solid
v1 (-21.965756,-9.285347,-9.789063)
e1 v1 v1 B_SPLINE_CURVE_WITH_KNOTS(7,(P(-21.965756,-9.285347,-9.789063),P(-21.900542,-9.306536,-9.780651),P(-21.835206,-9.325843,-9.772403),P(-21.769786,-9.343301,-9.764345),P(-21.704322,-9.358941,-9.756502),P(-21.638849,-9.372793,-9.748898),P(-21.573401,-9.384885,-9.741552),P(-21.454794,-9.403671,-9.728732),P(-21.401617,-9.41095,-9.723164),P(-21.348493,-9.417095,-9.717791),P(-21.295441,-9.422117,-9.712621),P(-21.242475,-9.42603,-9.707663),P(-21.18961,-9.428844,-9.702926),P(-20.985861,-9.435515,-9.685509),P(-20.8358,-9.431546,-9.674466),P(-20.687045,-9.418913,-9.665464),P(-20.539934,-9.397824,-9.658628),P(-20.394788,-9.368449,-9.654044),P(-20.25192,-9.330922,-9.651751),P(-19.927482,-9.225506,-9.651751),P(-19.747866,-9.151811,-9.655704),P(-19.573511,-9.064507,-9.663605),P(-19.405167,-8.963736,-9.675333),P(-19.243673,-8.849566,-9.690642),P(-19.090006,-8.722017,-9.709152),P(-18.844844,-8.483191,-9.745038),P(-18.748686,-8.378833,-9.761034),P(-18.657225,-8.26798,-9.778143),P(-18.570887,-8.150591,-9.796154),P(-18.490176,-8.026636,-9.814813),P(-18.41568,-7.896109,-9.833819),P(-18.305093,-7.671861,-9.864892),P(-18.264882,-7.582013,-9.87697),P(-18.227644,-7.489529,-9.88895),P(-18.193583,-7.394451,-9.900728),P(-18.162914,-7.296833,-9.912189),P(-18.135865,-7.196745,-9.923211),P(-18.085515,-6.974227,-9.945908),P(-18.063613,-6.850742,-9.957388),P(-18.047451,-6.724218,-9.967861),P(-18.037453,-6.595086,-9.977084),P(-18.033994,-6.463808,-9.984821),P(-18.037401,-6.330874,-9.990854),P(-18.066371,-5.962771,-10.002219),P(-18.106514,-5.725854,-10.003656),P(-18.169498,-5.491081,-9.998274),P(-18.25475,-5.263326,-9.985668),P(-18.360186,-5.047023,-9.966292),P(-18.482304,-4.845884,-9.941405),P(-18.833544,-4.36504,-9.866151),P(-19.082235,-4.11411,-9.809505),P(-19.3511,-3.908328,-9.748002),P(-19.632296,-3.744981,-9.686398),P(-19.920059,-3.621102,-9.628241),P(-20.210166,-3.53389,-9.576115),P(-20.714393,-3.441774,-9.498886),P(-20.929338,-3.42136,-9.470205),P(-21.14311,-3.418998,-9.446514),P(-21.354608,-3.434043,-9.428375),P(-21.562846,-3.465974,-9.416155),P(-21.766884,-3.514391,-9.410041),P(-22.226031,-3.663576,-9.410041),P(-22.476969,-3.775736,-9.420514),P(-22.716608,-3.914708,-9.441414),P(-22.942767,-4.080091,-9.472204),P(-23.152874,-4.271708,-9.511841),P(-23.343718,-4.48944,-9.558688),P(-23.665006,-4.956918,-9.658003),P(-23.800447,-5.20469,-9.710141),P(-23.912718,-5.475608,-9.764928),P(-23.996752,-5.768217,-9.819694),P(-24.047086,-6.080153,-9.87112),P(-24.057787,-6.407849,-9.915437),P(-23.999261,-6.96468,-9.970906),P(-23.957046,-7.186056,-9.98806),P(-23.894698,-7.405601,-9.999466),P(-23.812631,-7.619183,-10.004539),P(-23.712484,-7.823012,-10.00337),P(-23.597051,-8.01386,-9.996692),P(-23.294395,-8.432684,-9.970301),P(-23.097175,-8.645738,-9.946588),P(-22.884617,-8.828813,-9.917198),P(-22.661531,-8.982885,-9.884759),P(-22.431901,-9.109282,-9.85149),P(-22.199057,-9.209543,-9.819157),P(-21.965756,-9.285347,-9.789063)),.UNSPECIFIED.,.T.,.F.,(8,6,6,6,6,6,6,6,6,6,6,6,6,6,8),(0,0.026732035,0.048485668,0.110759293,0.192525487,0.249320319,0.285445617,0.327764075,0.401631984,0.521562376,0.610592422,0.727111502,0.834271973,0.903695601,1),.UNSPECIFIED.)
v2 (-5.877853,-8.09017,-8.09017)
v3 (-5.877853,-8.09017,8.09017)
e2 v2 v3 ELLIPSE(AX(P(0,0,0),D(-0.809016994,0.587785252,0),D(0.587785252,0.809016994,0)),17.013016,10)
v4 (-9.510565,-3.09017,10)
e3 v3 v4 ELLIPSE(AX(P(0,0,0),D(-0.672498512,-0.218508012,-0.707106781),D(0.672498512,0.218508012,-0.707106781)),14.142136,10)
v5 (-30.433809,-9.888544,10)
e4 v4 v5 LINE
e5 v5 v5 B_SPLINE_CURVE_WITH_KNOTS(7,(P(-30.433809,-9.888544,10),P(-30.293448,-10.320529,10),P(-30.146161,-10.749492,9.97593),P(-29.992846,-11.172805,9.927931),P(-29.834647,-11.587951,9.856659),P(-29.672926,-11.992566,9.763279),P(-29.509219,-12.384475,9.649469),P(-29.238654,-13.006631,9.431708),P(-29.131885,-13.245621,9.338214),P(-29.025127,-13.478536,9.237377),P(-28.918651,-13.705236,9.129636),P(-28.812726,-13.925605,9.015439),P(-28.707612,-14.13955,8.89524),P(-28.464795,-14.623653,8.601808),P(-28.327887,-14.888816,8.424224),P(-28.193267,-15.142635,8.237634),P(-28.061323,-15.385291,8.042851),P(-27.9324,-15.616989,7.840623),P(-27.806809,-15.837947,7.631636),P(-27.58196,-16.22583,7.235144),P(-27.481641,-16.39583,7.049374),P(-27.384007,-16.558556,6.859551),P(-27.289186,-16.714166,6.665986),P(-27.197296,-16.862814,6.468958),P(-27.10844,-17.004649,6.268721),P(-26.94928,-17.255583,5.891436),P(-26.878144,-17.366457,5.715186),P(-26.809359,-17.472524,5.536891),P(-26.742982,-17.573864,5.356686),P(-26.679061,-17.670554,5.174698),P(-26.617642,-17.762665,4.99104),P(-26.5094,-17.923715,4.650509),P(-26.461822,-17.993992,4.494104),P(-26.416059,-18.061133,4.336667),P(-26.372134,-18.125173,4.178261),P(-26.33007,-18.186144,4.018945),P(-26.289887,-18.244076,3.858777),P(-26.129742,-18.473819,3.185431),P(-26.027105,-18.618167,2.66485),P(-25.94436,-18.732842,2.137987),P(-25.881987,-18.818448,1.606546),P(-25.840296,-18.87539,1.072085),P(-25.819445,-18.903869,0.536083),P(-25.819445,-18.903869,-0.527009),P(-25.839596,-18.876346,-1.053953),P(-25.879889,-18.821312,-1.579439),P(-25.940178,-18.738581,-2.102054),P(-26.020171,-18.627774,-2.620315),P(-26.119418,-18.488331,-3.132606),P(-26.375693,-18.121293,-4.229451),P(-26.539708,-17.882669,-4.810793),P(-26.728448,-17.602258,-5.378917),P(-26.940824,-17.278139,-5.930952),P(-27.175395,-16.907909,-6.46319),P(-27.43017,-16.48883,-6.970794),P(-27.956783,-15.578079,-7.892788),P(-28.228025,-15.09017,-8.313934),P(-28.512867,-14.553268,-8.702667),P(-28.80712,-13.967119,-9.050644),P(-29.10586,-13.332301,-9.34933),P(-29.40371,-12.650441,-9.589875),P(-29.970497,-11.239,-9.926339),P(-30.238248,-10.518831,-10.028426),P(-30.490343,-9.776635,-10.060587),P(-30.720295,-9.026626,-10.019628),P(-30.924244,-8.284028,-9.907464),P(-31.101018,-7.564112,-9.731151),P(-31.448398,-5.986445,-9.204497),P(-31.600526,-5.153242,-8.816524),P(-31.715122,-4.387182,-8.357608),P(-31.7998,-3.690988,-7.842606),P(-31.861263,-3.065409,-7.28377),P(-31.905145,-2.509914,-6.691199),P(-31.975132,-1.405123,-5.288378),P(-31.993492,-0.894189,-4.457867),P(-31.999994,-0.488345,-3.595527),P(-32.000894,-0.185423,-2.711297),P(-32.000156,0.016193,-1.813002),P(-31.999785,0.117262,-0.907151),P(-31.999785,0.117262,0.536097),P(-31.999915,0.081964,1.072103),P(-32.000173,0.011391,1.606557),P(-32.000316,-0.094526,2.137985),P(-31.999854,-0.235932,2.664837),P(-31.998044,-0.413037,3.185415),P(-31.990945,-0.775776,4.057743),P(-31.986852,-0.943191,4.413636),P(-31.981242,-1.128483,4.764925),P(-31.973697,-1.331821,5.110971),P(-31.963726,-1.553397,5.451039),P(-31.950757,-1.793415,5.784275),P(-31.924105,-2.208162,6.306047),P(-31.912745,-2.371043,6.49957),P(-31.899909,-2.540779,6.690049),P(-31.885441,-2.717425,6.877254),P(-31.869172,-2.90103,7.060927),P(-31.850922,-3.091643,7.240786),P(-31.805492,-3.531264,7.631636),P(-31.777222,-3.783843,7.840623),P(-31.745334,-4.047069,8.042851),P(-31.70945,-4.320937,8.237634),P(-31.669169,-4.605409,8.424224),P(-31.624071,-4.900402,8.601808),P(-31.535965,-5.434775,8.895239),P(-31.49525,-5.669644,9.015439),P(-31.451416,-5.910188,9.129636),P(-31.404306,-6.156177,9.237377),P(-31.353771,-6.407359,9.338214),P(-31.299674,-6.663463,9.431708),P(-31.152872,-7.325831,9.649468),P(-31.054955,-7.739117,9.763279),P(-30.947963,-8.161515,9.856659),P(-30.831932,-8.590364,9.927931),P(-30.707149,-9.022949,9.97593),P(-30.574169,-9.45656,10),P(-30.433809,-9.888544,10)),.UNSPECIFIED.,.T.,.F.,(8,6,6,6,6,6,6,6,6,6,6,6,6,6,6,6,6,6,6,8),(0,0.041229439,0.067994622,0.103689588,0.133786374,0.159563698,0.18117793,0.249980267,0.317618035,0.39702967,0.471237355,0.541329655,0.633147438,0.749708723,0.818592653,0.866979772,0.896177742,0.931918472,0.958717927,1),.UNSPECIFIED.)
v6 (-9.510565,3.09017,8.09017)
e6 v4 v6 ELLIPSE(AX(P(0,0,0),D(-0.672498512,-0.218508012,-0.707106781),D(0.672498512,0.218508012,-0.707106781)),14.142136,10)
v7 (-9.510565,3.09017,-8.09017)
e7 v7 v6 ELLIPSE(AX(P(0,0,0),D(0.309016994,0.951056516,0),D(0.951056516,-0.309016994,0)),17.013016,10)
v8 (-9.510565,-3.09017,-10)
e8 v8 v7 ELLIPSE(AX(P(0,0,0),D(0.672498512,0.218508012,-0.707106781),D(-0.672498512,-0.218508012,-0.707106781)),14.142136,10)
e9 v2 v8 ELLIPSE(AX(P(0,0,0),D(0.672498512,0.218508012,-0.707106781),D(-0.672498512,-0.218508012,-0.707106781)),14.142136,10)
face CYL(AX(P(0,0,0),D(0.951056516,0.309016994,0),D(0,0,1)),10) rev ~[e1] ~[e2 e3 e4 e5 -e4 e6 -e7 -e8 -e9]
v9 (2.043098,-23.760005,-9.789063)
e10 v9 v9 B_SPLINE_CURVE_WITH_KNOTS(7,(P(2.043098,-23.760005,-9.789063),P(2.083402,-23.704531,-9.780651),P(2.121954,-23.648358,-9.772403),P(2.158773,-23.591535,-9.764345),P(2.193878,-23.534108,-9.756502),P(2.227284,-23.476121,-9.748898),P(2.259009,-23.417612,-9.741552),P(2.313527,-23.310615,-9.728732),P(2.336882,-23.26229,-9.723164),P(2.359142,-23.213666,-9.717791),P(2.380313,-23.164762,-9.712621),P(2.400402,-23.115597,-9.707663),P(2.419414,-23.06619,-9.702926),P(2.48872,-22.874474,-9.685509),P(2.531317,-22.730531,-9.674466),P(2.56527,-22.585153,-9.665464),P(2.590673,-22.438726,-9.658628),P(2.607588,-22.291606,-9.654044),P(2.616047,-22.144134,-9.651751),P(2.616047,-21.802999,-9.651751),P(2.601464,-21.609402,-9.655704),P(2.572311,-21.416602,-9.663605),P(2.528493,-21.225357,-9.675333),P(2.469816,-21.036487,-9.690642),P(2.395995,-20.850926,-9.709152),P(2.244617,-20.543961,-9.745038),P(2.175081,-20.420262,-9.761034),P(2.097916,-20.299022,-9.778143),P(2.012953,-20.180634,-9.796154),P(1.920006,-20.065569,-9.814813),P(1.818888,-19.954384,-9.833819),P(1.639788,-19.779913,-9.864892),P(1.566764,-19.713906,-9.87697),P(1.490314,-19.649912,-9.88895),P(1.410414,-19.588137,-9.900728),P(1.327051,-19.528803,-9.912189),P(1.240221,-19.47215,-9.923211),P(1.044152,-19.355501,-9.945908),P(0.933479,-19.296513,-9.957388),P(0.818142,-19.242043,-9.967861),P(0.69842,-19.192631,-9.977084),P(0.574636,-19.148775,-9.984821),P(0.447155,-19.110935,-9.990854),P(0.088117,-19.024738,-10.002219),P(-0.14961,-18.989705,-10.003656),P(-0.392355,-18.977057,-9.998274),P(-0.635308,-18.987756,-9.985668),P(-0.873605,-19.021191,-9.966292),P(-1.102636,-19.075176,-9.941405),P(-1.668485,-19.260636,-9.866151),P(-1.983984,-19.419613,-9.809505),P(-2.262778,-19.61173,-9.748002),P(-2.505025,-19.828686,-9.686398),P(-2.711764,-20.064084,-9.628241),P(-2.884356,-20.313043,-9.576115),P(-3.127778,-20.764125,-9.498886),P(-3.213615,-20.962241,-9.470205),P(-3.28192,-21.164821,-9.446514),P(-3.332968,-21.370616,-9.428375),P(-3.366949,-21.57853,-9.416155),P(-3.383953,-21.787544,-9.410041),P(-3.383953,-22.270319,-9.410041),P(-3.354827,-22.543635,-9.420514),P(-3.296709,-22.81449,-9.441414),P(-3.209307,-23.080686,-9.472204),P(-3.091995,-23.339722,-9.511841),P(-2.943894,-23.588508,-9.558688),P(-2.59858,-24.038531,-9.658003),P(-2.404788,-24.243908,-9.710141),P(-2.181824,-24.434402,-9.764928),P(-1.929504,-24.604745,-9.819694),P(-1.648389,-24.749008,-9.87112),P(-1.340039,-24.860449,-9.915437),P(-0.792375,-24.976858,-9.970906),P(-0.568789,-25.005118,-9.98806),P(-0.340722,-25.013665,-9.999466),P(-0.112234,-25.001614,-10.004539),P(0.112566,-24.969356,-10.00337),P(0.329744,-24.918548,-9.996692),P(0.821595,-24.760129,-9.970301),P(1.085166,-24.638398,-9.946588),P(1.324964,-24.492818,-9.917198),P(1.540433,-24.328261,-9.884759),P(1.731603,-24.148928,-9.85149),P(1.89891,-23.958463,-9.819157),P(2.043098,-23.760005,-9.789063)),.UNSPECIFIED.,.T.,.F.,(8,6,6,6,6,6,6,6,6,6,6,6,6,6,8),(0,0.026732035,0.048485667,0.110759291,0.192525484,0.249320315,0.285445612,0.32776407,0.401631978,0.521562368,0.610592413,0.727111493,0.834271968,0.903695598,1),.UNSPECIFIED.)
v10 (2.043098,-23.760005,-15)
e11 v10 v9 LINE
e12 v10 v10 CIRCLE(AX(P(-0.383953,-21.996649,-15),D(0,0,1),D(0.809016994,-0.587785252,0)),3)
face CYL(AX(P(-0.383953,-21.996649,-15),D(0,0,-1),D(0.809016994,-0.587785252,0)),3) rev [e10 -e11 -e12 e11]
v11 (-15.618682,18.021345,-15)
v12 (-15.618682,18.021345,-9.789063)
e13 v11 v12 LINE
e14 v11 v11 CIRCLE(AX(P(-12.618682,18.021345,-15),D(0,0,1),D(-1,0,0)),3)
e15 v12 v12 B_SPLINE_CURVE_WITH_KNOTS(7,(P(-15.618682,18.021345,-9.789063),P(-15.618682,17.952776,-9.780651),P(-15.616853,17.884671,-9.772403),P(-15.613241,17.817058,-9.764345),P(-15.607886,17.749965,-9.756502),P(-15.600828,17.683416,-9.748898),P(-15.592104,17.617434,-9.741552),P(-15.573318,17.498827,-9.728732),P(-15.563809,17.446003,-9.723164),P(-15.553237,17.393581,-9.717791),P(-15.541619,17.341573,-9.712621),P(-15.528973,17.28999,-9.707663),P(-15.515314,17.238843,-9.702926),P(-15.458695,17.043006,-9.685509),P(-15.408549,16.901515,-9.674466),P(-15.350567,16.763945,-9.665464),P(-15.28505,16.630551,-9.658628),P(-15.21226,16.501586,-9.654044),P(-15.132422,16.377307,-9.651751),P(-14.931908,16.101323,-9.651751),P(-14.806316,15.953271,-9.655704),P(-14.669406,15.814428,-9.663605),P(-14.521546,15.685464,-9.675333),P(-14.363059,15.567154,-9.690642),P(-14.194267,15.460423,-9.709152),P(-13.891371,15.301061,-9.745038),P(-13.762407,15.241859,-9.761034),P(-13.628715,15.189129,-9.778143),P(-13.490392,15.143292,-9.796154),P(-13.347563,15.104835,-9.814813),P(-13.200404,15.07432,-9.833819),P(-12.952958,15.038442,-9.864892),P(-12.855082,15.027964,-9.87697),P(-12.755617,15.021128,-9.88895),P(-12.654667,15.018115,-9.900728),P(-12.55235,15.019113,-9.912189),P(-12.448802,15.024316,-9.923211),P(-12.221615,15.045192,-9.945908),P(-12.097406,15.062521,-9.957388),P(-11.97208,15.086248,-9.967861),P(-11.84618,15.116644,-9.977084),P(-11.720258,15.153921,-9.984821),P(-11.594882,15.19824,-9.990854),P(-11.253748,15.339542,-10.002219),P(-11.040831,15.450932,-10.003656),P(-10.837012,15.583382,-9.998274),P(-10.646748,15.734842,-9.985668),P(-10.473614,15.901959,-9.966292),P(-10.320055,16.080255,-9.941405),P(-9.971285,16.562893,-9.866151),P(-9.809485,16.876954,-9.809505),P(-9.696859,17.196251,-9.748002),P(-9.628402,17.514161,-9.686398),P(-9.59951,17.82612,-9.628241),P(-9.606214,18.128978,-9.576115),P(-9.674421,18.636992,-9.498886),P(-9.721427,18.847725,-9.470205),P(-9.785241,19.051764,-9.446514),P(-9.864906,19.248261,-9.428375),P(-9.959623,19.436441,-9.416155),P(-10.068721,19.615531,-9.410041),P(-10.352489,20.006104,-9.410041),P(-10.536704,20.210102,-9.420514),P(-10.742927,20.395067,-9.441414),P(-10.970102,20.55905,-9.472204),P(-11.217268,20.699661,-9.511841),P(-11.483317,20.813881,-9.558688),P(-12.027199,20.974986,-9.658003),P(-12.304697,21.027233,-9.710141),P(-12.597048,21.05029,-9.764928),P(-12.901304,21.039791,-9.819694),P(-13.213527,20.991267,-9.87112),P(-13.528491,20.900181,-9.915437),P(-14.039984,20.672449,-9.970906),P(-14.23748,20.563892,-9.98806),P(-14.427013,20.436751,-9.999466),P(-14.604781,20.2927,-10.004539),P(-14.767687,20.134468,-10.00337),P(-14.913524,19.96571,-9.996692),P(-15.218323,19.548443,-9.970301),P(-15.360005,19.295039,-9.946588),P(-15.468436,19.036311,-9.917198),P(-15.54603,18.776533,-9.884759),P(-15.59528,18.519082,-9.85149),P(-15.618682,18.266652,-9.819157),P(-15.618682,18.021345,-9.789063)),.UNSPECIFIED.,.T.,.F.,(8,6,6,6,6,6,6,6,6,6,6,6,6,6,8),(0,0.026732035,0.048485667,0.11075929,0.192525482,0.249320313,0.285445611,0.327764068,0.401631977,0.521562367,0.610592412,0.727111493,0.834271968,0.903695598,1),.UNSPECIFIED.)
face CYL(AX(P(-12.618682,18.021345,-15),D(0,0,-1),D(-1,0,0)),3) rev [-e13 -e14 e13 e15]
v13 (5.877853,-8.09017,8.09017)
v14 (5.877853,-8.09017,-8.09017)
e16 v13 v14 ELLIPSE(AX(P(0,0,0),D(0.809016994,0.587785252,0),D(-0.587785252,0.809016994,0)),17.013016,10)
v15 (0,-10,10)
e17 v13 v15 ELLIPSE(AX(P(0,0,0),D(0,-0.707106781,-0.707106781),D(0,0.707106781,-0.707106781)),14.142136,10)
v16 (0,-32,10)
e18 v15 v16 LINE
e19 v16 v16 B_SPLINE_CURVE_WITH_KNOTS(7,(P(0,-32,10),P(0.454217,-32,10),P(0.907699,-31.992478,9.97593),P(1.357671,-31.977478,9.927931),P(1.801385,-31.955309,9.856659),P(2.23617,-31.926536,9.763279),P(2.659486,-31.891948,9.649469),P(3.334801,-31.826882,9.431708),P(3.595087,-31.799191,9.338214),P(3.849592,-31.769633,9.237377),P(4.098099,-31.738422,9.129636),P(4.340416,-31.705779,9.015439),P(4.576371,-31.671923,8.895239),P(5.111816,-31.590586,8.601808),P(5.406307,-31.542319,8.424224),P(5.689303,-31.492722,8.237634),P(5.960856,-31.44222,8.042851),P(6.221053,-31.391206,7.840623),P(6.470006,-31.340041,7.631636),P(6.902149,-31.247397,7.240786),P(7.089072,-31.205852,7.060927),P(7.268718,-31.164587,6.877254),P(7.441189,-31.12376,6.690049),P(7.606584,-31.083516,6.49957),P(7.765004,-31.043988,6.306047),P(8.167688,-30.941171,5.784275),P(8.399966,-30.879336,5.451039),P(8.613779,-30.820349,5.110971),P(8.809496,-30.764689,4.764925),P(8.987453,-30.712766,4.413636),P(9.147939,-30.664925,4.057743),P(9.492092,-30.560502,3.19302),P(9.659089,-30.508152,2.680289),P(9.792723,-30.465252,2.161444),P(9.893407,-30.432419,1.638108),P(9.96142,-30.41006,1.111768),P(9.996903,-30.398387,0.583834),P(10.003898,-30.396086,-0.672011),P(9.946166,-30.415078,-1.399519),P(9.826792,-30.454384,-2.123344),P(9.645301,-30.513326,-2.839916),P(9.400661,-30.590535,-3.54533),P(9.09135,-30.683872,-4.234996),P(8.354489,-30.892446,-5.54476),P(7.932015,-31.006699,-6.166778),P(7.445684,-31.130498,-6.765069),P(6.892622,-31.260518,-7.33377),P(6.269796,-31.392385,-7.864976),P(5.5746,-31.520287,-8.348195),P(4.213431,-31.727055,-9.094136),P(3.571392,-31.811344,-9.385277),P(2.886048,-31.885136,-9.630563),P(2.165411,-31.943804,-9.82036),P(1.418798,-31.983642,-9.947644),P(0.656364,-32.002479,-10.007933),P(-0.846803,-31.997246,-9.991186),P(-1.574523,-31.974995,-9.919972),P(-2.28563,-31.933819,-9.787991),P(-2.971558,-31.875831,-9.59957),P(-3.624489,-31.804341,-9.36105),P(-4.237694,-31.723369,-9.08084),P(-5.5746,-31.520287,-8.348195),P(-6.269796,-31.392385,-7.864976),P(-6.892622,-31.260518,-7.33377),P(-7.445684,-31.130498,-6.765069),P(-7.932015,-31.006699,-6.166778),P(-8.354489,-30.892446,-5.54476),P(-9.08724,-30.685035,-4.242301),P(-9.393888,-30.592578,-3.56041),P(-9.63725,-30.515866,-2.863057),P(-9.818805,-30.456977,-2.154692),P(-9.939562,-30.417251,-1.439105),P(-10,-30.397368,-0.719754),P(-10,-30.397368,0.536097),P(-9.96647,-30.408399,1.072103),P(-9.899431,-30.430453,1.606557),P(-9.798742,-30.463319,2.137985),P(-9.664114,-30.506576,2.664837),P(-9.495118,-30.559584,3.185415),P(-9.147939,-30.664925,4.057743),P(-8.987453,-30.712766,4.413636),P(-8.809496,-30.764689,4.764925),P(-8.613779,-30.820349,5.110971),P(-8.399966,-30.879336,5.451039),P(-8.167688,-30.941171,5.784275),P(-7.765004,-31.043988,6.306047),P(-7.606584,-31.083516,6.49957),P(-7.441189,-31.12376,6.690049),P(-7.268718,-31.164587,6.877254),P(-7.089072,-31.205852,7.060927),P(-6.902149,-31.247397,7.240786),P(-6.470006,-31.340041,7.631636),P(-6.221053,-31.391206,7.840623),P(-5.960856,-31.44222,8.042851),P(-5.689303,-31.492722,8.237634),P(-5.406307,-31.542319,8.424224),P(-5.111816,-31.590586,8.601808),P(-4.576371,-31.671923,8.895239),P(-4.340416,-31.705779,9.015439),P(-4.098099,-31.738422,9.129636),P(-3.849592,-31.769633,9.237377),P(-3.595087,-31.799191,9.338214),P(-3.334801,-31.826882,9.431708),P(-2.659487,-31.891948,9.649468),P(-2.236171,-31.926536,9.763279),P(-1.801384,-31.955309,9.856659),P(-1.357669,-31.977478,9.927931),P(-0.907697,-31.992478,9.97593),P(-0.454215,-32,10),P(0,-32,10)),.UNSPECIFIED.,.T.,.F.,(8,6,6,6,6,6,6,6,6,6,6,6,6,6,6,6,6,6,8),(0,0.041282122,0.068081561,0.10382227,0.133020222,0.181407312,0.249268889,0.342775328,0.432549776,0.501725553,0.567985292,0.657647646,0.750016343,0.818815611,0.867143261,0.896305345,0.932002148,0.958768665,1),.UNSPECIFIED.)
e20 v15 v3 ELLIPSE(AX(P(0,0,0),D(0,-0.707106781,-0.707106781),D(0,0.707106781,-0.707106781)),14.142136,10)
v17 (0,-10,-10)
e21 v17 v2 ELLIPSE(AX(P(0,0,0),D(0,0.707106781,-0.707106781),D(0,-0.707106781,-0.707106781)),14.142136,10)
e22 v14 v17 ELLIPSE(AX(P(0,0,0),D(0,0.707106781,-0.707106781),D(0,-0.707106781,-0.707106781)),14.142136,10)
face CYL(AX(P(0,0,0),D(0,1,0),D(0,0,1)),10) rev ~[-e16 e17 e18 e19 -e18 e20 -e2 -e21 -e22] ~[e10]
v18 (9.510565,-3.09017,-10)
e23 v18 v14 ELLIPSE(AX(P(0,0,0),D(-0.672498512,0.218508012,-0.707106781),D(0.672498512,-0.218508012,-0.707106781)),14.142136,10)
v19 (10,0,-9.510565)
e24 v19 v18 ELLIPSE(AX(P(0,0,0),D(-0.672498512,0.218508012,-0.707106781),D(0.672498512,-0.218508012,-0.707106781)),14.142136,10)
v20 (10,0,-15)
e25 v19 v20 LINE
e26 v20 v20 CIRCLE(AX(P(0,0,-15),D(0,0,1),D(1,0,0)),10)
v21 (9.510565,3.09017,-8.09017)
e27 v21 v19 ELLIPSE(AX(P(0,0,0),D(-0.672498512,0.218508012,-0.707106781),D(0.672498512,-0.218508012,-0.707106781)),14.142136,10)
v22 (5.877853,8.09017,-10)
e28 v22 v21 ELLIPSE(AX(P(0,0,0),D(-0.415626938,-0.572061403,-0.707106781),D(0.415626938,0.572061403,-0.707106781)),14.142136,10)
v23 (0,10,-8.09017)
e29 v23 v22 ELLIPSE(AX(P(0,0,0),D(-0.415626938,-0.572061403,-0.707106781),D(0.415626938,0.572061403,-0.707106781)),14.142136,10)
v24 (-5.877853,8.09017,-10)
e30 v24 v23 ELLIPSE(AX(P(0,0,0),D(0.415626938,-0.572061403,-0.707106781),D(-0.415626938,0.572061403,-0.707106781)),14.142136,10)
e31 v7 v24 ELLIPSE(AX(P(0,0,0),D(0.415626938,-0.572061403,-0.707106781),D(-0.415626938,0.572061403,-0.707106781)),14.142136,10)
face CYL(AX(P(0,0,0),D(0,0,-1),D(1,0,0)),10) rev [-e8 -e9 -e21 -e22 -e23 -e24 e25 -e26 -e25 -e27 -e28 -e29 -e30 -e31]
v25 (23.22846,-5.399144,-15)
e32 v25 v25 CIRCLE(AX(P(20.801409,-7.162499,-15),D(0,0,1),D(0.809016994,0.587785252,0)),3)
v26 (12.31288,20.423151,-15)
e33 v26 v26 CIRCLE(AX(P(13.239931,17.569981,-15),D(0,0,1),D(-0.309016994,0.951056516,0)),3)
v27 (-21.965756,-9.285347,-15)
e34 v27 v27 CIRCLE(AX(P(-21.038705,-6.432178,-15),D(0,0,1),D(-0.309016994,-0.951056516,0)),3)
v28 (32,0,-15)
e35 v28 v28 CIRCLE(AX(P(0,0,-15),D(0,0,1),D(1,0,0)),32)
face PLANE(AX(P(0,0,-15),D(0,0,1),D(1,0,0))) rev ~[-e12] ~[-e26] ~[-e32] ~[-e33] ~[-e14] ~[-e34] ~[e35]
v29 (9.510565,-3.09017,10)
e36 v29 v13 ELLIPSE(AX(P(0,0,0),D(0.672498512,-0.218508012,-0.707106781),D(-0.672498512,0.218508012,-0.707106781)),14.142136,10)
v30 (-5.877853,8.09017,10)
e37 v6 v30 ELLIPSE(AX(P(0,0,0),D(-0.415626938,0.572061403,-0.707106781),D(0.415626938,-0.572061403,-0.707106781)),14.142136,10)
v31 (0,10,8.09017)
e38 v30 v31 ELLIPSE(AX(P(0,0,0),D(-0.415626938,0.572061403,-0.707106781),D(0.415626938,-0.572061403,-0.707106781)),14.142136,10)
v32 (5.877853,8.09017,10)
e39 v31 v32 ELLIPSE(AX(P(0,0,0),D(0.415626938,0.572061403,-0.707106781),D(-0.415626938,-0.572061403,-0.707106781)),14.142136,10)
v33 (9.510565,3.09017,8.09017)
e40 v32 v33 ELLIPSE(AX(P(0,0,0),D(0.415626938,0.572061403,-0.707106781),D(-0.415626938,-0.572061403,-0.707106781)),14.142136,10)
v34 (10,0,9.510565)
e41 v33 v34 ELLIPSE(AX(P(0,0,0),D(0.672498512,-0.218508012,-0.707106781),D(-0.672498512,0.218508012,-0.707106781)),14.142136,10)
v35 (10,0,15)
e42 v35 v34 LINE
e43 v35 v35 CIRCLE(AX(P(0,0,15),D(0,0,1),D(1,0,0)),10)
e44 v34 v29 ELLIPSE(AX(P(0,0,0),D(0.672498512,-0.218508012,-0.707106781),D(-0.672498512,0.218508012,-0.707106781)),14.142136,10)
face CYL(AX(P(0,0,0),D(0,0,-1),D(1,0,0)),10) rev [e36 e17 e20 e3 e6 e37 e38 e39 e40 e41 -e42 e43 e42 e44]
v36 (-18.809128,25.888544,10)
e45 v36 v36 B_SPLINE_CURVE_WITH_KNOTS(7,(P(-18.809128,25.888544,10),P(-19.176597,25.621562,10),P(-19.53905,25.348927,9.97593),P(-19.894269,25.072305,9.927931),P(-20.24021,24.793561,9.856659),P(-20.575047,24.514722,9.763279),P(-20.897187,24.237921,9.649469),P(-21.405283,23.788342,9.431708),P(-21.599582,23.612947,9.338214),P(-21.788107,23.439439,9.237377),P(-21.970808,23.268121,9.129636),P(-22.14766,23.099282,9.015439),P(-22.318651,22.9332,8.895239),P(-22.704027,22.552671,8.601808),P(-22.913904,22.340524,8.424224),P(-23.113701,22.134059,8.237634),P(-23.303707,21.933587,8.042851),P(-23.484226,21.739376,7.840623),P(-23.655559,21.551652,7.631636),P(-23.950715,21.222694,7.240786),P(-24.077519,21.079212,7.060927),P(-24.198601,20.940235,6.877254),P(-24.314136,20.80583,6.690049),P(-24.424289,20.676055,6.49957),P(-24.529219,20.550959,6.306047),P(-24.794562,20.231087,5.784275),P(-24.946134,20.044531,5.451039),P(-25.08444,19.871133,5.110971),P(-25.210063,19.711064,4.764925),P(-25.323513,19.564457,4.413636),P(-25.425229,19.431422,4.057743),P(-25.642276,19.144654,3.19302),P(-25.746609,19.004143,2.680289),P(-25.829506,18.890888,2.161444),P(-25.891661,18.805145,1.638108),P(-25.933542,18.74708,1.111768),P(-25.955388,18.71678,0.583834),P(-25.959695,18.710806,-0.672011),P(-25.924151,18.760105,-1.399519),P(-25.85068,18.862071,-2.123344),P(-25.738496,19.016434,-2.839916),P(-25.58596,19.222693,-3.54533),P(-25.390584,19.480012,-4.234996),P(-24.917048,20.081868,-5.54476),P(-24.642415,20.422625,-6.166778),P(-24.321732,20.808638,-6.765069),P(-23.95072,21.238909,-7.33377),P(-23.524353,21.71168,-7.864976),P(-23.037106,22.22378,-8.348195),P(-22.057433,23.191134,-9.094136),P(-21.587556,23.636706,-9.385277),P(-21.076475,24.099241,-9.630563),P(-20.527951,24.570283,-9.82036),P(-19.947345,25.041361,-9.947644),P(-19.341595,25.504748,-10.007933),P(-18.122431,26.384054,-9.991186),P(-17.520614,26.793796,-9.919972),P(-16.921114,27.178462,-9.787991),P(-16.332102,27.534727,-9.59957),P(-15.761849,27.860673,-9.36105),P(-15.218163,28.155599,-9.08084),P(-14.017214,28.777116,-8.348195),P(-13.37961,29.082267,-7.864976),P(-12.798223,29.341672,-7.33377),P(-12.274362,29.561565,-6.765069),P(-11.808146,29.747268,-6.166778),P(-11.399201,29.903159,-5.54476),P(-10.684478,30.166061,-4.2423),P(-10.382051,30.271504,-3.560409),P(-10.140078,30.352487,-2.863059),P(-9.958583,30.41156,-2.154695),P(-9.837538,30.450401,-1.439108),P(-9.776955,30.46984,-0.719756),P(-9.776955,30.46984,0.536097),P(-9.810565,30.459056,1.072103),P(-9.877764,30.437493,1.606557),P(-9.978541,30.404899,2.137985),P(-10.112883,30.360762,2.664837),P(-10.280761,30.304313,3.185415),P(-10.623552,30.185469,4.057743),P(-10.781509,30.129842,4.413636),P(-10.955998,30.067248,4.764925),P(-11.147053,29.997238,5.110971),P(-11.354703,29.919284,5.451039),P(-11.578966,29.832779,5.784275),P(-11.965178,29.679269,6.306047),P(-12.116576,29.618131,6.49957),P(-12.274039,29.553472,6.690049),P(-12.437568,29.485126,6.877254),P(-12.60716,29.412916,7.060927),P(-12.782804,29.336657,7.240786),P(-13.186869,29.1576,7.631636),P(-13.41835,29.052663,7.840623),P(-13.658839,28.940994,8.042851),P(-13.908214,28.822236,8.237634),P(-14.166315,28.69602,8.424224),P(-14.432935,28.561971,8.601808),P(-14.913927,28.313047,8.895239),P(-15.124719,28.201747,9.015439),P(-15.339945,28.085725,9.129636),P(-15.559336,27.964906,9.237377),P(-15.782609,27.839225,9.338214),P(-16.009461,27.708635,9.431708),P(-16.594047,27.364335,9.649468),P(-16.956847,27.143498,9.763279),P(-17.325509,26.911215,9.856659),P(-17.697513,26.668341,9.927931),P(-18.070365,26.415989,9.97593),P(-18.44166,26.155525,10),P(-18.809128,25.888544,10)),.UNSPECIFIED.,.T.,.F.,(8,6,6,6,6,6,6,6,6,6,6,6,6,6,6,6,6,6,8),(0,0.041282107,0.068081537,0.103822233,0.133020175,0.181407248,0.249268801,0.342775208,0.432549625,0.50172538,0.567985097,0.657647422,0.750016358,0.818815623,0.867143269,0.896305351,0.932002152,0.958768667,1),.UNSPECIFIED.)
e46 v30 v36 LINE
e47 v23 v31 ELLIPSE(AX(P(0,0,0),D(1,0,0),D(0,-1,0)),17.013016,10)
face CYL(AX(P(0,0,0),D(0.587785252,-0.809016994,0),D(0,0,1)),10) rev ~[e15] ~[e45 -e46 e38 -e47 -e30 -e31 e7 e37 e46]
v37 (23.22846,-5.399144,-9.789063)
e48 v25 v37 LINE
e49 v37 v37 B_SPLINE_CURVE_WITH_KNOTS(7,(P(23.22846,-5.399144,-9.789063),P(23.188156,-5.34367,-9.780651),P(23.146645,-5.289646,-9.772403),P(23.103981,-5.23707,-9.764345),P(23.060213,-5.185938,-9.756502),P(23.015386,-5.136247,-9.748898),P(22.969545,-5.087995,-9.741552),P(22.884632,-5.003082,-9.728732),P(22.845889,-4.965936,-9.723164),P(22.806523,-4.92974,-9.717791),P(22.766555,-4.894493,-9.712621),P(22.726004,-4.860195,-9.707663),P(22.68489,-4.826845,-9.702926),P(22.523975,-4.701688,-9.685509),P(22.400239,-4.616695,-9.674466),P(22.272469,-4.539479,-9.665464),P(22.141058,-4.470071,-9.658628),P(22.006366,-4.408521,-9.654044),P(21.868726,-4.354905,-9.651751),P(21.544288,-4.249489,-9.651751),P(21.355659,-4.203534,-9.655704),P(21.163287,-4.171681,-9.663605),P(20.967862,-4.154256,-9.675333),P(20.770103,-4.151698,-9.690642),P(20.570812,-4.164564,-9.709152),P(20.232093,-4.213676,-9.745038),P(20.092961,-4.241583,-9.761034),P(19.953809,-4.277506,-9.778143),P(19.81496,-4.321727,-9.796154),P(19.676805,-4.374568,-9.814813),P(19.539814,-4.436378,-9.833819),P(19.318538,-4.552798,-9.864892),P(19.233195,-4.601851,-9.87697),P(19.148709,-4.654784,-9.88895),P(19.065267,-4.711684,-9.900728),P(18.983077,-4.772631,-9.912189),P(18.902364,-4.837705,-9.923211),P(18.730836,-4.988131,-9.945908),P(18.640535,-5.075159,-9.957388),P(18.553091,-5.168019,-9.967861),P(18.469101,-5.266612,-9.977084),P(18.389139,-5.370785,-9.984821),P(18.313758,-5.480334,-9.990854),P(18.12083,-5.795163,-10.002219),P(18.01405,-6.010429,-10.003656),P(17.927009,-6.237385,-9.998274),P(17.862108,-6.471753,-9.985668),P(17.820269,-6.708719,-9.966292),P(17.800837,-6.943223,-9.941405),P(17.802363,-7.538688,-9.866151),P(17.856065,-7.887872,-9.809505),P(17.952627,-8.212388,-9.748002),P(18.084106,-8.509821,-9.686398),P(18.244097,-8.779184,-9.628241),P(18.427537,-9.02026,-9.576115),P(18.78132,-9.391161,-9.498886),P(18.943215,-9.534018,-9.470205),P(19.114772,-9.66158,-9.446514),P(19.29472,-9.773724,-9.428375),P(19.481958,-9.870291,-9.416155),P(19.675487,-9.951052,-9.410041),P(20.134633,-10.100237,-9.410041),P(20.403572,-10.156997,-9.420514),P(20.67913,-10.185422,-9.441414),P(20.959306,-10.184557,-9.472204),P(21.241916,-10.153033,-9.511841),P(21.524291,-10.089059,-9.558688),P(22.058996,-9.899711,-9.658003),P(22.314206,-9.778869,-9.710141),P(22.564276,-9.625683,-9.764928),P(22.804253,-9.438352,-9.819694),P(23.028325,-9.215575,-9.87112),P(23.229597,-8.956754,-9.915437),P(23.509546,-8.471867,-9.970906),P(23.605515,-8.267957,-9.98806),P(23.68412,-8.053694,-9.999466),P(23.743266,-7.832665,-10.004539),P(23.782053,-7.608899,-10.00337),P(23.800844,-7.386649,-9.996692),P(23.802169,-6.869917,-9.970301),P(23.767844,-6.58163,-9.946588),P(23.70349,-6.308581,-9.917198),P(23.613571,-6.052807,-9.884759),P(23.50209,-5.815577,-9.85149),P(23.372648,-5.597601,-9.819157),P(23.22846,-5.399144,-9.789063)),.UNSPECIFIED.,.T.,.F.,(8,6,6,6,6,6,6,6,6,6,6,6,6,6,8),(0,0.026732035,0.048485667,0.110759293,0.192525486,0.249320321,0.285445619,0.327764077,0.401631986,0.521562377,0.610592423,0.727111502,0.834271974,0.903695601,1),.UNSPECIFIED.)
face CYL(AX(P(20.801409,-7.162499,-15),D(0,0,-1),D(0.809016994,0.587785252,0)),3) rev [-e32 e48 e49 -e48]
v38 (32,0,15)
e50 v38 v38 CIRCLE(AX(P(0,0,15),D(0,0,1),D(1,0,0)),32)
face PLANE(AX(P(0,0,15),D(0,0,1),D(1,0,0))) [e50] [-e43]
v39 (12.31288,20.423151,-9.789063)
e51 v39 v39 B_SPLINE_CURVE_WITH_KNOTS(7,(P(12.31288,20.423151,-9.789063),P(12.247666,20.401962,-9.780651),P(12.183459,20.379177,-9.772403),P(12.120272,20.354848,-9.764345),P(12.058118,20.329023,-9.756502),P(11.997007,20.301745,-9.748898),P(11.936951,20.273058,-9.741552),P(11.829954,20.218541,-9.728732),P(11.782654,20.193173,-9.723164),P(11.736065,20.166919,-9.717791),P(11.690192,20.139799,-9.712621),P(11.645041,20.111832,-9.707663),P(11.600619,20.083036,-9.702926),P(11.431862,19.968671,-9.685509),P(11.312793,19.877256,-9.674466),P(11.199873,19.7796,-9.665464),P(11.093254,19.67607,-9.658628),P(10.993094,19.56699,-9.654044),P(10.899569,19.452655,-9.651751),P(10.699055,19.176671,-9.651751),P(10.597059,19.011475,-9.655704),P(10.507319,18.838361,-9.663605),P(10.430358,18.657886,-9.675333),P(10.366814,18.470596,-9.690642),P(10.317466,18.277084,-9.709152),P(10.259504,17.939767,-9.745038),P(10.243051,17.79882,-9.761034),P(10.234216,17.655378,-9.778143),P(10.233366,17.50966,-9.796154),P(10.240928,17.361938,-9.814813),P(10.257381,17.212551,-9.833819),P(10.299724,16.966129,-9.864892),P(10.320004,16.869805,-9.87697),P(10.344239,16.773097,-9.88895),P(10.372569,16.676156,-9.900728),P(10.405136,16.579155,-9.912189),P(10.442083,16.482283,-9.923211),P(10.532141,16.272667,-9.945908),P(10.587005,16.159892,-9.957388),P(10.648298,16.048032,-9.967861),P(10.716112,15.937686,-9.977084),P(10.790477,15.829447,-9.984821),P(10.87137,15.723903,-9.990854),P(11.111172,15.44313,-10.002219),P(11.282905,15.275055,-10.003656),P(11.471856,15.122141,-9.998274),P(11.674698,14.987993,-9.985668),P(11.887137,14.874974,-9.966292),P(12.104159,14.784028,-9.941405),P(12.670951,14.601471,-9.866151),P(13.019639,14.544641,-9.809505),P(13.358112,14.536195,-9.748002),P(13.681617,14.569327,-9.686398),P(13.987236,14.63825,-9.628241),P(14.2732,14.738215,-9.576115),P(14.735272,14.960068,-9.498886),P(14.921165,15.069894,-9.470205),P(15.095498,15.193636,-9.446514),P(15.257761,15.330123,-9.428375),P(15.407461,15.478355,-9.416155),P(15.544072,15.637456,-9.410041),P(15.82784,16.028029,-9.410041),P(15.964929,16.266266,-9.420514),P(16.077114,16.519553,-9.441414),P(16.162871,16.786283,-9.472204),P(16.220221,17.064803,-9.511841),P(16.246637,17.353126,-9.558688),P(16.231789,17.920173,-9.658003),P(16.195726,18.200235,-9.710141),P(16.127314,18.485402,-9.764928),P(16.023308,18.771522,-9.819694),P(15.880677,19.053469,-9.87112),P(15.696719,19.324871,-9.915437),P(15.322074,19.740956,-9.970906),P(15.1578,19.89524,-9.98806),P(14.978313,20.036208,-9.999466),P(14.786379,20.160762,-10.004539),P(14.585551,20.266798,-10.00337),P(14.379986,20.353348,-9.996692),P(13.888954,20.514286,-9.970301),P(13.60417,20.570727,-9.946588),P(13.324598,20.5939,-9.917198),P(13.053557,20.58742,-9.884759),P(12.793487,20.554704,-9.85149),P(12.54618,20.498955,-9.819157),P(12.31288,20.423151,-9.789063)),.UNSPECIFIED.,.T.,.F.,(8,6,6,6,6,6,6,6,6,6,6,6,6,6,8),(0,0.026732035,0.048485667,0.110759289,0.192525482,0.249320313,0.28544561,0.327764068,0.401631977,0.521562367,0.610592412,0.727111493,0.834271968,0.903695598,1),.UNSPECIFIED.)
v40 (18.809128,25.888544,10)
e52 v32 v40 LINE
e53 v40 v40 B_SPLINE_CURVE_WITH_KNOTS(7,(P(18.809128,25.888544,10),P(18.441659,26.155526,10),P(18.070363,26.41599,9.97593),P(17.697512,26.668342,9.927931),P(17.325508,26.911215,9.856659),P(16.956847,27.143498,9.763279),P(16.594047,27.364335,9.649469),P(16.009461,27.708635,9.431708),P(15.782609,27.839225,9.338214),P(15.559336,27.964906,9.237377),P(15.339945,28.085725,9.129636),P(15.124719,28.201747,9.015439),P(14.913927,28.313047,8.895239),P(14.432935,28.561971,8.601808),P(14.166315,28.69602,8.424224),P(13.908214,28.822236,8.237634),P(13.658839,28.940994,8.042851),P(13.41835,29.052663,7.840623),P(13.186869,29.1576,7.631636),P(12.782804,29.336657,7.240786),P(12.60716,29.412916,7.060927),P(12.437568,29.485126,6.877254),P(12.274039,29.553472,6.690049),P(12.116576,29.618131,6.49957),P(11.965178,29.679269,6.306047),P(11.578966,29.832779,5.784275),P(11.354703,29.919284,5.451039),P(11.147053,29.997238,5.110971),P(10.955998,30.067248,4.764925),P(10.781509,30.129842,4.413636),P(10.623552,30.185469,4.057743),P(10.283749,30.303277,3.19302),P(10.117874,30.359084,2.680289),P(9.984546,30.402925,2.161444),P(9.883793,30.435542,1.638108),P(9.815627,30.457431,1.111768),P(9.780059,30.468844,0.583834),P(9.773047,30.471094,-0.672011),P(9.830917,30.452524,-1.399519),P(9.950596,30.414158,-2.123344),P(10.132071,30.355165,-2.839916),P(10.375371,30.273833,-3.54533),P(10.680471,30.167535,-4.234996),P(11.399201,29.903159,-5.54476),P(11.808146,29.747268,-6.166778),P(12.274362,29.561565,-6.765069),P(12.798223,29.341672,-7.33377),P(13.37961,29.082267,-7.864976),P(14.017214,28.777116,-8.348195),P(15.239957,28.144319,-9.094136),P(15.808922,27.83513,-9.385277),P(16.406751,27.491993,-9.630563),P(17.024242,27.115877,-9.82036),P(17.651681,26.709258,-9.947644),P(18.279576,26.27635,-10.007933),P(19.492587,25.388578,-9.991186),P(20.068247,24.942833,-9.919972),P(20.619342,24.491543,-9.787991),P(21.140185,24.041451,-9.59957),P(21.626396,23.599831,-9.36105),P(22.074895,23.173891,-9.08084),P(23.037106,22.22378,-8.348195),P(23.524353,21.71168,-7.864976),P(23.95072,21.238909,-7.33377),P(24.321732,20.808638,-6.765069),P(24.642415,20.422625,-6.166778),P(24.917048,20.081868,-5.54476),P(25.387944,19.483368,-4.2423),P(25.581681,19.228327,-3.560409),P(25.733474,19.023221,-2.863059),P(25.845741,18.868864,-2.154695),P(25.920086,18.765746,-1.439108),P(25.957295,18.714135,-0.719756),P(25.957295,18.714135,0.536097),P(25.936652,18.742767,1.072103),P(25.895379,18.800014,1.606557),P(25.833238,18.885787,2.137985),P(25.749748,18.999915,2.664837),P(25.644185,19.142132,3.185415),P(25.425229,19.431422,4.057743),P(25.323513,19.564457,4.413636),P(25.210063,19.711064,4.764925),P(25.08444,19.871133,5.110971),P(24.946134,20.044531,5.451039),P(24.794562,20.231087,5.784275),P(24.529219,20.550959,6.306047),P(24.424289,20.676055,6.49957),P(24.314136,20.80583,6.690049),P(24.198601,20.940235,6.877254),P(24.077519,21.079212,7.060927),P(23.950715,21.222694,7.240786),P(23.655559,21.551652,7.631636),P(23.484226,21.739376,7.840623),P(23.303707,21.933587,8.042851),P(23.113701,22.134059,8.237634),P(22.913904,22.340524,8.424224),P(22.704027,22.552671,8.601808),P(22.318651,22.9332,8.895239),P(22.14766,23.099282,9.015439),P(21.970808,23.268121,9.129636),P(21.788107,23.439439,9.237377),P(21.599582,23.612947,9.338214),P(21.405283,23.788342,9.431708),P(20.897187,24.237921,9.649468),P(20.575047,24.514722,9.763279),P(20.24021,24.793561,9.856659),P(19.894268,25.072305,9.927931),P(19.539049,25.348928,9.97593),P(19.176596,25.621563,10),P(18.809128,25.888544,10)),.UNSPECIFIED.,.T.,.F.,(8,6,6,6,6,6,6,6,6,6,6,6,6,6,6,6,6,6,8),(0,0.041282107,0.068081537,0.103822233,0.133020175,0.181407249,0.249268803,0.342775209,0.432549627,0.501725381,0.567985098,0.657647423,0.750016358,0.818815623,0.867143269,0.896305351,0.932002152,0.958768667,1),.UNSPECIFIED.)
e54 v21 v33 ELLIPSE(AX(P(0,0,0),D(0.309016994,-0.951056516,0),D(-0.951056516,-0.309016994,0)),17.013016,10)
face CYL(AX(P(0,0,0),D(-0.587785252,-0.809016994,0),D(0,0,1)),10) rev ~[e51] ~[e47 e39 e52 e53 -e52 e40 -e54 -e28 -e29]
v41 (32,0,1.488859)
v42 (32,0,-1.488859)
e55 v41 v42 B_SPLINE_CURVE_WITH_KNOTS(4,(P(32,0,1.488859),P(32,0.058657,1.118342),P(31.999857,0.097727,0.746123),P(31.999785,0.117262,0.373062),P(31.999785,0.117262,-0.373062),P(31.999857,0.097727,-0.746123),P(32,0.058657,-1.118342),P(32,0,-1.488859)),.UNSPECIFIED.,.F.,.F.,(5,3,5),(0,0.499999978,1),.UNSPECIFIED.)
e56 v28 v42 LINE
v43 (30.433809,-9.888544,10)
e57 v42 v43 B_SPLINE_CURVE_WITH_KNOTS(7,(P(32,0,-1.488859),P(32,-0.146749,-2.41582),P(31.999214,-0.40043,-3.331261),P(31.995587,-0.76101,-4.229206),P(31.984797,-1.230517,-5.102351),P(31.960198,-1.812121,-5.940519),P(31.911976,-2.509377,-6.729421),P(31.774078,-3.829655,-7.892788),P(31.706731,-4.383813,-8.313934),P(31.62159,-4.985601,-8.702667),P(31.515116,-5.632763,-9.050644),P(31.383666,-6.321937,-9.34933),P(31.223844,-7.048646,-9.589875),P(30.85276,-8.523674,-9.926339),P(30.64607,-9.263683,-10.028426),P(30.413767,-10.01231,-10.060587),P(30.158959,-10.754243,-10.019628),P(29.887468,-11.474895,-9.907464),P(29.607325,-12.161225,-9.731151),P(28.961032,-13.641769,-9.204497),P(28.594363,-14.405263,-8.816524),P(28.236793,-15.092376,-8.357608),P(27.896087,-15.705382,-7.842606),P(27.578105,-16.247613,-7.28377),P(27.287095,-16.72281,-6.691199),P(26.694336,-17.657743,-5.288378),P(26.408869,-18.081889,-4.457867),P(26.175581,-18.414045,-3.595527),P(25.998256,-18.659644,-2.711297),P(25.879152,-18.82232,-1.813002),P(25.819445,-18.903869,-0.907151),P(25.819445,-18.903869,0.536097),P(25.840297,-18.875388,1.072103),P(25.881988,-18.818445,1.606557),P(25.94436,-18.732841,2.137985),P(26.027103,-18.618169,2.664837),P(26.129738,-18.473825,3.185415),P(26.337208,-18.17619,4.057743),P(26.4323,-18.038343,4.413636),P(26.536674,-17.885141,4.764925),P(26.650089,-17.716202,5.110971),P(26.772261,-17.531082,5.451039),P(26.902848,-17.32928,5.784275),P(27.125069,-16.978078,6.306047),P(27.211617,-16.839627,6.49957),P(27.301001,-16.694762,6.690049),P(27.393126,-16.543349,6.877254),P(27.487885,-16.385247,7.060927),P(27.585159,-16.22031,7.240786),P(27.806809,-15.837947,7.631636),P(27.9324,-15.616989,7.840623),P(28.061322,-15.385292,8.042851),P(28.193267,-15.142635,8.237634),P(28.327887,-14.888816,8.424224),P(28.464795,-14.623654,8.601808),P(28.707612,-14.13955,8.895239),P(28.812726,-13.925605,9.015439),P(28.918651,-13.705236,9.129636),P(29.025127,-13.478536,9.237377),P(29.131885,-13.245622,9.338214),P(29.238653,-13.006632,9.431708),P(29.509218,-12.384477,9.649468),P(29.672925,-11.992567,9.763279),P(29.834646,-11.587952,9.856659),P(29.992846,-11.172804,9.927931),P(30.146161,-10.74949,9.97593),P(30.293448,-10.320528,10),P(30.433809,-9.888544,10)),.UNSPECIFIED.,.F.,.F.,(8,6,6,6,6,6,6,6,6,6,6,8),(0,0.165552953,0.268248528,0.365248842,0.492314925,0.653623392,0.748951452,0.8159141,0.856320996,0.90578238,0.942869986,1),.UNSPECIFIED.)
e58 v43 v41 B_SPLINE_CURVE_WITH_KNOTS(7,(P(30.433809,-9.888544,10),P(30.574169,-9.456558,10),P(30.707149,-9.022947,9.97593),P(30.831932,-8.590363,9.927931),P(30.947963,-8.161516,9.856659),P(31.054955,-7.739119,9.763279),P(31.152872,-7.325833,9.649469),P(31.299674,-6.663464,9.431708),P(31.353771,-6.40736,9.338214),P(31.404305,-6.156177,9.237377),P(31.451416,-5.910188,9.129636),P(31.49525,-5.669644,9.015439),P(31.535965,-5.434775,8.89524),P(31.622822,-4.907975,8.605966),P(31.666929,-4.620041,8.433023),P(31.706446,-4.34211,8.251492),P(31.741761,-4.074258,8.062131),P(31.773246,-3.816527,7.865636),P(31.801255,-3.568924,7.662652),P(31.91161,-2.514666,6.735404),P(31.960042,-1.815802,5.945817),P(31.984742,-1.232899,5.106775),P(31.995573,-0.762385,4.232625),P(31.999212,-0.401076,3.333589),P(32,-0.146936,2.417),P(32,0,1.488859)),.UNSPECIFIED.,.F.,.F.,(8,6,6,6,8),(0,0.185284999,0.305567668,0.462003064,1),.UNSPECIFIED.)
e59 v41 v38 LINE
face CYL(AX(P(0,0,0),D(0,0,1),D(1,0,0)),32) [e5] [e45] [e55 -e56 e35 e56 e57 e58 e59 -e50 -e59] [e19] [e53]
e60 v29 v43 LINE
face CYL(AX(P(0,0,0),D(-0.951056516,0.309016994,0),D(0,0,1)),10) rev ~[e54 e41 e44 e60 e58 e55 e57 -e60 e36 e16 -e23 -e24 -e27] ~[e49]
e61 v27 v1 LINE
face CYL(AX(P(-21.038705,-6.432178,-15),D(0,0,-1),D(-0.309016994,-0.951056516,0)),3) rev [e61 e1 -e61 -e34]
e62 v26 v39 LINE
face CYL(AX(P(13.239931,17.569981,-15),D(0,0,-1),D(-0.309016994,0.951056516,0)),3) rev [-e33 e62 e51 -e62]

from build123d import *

# Parameters (mm, degrees)
SKETCH1_R           = 32
SKETCH1_R_2         = 10
BOSS_EXTRUDE1_DEPTH = 15
SKETCH2_R           = 10
CUT_EXTRUDE1_DEPTH  = 48.675989764
CIRPATTERN1_COUNT   = 5
SKETCH4_R           = 3
CUT_EXTRUDE3_DEPTH  = 11
CIRPATTERN2_COUNT   = 5


with BuildPart() as part:
    # Sketch1 → Boss-Extrude1 (new, symmetric)
    with BuildSketch(Plane.XY):
        Circle(SKETCH1_R)
        Circle(SKETCH1_R_2, mode=Mode.SUBTRACT)
    extrude(amount=BOSS_EXTRUDE1_DEPTH, both=True)

    # Sketch2 → Cut-Extrude1 (cut, through all)
    with BuildSketch(Plane(origin=(0, 0, 0), x_dir=(1, 0, 0), z_dir=(0, 1, 0))):
        with Locations(Location((0, 0, 0), (0, 0, 270))):
            Circle(SKETCH2_R)
    cut_extrude1 = extrude(amount=-CUT_EXTRUDE1_DEPTH, mode=Mode.SUBTRACT)

    # CirPattern1: Cut-Extrude1 ×5 about axis
    cirpattern1_axis = Axis((0, 0, 15), (0, 0, -1))
    for i in range(1, CIRPATTERN1_COUNT):
        add(cut_extrude1.rotate(cirpattern1_axis, i * 360 / CIRPATTERN1_COUNT), mode=Mode.SUBTRACT)

    # Sketch4 → Cut-Extrude3 (cut)
    with BuildSketch(Plane.XY.offset(-15)):
        with Locations(Location((-12.6186816, 18.021344974, 0), (0, 0, 180))):
            Circle(SKETCH4_R)
    cut_extrude3 = extrude(amount=CUT_EXTRUDE3_DEPTH, mode=Mode.SUBTRACT)

    # CirPattern2: Cut-Extrude3 ×5 about axis
    cirpattern2_axis = Axis((0, 0, 0), (0, 0, 1))
    for i in range(1, CIRPATTERN2_COUNT):
        add(cut_extrude3.rotate(cirpattern2_axis, i * 360 / CIRPATTERN2_COUNT), mode=Mode.SUBTRACT)


solid = part.part
